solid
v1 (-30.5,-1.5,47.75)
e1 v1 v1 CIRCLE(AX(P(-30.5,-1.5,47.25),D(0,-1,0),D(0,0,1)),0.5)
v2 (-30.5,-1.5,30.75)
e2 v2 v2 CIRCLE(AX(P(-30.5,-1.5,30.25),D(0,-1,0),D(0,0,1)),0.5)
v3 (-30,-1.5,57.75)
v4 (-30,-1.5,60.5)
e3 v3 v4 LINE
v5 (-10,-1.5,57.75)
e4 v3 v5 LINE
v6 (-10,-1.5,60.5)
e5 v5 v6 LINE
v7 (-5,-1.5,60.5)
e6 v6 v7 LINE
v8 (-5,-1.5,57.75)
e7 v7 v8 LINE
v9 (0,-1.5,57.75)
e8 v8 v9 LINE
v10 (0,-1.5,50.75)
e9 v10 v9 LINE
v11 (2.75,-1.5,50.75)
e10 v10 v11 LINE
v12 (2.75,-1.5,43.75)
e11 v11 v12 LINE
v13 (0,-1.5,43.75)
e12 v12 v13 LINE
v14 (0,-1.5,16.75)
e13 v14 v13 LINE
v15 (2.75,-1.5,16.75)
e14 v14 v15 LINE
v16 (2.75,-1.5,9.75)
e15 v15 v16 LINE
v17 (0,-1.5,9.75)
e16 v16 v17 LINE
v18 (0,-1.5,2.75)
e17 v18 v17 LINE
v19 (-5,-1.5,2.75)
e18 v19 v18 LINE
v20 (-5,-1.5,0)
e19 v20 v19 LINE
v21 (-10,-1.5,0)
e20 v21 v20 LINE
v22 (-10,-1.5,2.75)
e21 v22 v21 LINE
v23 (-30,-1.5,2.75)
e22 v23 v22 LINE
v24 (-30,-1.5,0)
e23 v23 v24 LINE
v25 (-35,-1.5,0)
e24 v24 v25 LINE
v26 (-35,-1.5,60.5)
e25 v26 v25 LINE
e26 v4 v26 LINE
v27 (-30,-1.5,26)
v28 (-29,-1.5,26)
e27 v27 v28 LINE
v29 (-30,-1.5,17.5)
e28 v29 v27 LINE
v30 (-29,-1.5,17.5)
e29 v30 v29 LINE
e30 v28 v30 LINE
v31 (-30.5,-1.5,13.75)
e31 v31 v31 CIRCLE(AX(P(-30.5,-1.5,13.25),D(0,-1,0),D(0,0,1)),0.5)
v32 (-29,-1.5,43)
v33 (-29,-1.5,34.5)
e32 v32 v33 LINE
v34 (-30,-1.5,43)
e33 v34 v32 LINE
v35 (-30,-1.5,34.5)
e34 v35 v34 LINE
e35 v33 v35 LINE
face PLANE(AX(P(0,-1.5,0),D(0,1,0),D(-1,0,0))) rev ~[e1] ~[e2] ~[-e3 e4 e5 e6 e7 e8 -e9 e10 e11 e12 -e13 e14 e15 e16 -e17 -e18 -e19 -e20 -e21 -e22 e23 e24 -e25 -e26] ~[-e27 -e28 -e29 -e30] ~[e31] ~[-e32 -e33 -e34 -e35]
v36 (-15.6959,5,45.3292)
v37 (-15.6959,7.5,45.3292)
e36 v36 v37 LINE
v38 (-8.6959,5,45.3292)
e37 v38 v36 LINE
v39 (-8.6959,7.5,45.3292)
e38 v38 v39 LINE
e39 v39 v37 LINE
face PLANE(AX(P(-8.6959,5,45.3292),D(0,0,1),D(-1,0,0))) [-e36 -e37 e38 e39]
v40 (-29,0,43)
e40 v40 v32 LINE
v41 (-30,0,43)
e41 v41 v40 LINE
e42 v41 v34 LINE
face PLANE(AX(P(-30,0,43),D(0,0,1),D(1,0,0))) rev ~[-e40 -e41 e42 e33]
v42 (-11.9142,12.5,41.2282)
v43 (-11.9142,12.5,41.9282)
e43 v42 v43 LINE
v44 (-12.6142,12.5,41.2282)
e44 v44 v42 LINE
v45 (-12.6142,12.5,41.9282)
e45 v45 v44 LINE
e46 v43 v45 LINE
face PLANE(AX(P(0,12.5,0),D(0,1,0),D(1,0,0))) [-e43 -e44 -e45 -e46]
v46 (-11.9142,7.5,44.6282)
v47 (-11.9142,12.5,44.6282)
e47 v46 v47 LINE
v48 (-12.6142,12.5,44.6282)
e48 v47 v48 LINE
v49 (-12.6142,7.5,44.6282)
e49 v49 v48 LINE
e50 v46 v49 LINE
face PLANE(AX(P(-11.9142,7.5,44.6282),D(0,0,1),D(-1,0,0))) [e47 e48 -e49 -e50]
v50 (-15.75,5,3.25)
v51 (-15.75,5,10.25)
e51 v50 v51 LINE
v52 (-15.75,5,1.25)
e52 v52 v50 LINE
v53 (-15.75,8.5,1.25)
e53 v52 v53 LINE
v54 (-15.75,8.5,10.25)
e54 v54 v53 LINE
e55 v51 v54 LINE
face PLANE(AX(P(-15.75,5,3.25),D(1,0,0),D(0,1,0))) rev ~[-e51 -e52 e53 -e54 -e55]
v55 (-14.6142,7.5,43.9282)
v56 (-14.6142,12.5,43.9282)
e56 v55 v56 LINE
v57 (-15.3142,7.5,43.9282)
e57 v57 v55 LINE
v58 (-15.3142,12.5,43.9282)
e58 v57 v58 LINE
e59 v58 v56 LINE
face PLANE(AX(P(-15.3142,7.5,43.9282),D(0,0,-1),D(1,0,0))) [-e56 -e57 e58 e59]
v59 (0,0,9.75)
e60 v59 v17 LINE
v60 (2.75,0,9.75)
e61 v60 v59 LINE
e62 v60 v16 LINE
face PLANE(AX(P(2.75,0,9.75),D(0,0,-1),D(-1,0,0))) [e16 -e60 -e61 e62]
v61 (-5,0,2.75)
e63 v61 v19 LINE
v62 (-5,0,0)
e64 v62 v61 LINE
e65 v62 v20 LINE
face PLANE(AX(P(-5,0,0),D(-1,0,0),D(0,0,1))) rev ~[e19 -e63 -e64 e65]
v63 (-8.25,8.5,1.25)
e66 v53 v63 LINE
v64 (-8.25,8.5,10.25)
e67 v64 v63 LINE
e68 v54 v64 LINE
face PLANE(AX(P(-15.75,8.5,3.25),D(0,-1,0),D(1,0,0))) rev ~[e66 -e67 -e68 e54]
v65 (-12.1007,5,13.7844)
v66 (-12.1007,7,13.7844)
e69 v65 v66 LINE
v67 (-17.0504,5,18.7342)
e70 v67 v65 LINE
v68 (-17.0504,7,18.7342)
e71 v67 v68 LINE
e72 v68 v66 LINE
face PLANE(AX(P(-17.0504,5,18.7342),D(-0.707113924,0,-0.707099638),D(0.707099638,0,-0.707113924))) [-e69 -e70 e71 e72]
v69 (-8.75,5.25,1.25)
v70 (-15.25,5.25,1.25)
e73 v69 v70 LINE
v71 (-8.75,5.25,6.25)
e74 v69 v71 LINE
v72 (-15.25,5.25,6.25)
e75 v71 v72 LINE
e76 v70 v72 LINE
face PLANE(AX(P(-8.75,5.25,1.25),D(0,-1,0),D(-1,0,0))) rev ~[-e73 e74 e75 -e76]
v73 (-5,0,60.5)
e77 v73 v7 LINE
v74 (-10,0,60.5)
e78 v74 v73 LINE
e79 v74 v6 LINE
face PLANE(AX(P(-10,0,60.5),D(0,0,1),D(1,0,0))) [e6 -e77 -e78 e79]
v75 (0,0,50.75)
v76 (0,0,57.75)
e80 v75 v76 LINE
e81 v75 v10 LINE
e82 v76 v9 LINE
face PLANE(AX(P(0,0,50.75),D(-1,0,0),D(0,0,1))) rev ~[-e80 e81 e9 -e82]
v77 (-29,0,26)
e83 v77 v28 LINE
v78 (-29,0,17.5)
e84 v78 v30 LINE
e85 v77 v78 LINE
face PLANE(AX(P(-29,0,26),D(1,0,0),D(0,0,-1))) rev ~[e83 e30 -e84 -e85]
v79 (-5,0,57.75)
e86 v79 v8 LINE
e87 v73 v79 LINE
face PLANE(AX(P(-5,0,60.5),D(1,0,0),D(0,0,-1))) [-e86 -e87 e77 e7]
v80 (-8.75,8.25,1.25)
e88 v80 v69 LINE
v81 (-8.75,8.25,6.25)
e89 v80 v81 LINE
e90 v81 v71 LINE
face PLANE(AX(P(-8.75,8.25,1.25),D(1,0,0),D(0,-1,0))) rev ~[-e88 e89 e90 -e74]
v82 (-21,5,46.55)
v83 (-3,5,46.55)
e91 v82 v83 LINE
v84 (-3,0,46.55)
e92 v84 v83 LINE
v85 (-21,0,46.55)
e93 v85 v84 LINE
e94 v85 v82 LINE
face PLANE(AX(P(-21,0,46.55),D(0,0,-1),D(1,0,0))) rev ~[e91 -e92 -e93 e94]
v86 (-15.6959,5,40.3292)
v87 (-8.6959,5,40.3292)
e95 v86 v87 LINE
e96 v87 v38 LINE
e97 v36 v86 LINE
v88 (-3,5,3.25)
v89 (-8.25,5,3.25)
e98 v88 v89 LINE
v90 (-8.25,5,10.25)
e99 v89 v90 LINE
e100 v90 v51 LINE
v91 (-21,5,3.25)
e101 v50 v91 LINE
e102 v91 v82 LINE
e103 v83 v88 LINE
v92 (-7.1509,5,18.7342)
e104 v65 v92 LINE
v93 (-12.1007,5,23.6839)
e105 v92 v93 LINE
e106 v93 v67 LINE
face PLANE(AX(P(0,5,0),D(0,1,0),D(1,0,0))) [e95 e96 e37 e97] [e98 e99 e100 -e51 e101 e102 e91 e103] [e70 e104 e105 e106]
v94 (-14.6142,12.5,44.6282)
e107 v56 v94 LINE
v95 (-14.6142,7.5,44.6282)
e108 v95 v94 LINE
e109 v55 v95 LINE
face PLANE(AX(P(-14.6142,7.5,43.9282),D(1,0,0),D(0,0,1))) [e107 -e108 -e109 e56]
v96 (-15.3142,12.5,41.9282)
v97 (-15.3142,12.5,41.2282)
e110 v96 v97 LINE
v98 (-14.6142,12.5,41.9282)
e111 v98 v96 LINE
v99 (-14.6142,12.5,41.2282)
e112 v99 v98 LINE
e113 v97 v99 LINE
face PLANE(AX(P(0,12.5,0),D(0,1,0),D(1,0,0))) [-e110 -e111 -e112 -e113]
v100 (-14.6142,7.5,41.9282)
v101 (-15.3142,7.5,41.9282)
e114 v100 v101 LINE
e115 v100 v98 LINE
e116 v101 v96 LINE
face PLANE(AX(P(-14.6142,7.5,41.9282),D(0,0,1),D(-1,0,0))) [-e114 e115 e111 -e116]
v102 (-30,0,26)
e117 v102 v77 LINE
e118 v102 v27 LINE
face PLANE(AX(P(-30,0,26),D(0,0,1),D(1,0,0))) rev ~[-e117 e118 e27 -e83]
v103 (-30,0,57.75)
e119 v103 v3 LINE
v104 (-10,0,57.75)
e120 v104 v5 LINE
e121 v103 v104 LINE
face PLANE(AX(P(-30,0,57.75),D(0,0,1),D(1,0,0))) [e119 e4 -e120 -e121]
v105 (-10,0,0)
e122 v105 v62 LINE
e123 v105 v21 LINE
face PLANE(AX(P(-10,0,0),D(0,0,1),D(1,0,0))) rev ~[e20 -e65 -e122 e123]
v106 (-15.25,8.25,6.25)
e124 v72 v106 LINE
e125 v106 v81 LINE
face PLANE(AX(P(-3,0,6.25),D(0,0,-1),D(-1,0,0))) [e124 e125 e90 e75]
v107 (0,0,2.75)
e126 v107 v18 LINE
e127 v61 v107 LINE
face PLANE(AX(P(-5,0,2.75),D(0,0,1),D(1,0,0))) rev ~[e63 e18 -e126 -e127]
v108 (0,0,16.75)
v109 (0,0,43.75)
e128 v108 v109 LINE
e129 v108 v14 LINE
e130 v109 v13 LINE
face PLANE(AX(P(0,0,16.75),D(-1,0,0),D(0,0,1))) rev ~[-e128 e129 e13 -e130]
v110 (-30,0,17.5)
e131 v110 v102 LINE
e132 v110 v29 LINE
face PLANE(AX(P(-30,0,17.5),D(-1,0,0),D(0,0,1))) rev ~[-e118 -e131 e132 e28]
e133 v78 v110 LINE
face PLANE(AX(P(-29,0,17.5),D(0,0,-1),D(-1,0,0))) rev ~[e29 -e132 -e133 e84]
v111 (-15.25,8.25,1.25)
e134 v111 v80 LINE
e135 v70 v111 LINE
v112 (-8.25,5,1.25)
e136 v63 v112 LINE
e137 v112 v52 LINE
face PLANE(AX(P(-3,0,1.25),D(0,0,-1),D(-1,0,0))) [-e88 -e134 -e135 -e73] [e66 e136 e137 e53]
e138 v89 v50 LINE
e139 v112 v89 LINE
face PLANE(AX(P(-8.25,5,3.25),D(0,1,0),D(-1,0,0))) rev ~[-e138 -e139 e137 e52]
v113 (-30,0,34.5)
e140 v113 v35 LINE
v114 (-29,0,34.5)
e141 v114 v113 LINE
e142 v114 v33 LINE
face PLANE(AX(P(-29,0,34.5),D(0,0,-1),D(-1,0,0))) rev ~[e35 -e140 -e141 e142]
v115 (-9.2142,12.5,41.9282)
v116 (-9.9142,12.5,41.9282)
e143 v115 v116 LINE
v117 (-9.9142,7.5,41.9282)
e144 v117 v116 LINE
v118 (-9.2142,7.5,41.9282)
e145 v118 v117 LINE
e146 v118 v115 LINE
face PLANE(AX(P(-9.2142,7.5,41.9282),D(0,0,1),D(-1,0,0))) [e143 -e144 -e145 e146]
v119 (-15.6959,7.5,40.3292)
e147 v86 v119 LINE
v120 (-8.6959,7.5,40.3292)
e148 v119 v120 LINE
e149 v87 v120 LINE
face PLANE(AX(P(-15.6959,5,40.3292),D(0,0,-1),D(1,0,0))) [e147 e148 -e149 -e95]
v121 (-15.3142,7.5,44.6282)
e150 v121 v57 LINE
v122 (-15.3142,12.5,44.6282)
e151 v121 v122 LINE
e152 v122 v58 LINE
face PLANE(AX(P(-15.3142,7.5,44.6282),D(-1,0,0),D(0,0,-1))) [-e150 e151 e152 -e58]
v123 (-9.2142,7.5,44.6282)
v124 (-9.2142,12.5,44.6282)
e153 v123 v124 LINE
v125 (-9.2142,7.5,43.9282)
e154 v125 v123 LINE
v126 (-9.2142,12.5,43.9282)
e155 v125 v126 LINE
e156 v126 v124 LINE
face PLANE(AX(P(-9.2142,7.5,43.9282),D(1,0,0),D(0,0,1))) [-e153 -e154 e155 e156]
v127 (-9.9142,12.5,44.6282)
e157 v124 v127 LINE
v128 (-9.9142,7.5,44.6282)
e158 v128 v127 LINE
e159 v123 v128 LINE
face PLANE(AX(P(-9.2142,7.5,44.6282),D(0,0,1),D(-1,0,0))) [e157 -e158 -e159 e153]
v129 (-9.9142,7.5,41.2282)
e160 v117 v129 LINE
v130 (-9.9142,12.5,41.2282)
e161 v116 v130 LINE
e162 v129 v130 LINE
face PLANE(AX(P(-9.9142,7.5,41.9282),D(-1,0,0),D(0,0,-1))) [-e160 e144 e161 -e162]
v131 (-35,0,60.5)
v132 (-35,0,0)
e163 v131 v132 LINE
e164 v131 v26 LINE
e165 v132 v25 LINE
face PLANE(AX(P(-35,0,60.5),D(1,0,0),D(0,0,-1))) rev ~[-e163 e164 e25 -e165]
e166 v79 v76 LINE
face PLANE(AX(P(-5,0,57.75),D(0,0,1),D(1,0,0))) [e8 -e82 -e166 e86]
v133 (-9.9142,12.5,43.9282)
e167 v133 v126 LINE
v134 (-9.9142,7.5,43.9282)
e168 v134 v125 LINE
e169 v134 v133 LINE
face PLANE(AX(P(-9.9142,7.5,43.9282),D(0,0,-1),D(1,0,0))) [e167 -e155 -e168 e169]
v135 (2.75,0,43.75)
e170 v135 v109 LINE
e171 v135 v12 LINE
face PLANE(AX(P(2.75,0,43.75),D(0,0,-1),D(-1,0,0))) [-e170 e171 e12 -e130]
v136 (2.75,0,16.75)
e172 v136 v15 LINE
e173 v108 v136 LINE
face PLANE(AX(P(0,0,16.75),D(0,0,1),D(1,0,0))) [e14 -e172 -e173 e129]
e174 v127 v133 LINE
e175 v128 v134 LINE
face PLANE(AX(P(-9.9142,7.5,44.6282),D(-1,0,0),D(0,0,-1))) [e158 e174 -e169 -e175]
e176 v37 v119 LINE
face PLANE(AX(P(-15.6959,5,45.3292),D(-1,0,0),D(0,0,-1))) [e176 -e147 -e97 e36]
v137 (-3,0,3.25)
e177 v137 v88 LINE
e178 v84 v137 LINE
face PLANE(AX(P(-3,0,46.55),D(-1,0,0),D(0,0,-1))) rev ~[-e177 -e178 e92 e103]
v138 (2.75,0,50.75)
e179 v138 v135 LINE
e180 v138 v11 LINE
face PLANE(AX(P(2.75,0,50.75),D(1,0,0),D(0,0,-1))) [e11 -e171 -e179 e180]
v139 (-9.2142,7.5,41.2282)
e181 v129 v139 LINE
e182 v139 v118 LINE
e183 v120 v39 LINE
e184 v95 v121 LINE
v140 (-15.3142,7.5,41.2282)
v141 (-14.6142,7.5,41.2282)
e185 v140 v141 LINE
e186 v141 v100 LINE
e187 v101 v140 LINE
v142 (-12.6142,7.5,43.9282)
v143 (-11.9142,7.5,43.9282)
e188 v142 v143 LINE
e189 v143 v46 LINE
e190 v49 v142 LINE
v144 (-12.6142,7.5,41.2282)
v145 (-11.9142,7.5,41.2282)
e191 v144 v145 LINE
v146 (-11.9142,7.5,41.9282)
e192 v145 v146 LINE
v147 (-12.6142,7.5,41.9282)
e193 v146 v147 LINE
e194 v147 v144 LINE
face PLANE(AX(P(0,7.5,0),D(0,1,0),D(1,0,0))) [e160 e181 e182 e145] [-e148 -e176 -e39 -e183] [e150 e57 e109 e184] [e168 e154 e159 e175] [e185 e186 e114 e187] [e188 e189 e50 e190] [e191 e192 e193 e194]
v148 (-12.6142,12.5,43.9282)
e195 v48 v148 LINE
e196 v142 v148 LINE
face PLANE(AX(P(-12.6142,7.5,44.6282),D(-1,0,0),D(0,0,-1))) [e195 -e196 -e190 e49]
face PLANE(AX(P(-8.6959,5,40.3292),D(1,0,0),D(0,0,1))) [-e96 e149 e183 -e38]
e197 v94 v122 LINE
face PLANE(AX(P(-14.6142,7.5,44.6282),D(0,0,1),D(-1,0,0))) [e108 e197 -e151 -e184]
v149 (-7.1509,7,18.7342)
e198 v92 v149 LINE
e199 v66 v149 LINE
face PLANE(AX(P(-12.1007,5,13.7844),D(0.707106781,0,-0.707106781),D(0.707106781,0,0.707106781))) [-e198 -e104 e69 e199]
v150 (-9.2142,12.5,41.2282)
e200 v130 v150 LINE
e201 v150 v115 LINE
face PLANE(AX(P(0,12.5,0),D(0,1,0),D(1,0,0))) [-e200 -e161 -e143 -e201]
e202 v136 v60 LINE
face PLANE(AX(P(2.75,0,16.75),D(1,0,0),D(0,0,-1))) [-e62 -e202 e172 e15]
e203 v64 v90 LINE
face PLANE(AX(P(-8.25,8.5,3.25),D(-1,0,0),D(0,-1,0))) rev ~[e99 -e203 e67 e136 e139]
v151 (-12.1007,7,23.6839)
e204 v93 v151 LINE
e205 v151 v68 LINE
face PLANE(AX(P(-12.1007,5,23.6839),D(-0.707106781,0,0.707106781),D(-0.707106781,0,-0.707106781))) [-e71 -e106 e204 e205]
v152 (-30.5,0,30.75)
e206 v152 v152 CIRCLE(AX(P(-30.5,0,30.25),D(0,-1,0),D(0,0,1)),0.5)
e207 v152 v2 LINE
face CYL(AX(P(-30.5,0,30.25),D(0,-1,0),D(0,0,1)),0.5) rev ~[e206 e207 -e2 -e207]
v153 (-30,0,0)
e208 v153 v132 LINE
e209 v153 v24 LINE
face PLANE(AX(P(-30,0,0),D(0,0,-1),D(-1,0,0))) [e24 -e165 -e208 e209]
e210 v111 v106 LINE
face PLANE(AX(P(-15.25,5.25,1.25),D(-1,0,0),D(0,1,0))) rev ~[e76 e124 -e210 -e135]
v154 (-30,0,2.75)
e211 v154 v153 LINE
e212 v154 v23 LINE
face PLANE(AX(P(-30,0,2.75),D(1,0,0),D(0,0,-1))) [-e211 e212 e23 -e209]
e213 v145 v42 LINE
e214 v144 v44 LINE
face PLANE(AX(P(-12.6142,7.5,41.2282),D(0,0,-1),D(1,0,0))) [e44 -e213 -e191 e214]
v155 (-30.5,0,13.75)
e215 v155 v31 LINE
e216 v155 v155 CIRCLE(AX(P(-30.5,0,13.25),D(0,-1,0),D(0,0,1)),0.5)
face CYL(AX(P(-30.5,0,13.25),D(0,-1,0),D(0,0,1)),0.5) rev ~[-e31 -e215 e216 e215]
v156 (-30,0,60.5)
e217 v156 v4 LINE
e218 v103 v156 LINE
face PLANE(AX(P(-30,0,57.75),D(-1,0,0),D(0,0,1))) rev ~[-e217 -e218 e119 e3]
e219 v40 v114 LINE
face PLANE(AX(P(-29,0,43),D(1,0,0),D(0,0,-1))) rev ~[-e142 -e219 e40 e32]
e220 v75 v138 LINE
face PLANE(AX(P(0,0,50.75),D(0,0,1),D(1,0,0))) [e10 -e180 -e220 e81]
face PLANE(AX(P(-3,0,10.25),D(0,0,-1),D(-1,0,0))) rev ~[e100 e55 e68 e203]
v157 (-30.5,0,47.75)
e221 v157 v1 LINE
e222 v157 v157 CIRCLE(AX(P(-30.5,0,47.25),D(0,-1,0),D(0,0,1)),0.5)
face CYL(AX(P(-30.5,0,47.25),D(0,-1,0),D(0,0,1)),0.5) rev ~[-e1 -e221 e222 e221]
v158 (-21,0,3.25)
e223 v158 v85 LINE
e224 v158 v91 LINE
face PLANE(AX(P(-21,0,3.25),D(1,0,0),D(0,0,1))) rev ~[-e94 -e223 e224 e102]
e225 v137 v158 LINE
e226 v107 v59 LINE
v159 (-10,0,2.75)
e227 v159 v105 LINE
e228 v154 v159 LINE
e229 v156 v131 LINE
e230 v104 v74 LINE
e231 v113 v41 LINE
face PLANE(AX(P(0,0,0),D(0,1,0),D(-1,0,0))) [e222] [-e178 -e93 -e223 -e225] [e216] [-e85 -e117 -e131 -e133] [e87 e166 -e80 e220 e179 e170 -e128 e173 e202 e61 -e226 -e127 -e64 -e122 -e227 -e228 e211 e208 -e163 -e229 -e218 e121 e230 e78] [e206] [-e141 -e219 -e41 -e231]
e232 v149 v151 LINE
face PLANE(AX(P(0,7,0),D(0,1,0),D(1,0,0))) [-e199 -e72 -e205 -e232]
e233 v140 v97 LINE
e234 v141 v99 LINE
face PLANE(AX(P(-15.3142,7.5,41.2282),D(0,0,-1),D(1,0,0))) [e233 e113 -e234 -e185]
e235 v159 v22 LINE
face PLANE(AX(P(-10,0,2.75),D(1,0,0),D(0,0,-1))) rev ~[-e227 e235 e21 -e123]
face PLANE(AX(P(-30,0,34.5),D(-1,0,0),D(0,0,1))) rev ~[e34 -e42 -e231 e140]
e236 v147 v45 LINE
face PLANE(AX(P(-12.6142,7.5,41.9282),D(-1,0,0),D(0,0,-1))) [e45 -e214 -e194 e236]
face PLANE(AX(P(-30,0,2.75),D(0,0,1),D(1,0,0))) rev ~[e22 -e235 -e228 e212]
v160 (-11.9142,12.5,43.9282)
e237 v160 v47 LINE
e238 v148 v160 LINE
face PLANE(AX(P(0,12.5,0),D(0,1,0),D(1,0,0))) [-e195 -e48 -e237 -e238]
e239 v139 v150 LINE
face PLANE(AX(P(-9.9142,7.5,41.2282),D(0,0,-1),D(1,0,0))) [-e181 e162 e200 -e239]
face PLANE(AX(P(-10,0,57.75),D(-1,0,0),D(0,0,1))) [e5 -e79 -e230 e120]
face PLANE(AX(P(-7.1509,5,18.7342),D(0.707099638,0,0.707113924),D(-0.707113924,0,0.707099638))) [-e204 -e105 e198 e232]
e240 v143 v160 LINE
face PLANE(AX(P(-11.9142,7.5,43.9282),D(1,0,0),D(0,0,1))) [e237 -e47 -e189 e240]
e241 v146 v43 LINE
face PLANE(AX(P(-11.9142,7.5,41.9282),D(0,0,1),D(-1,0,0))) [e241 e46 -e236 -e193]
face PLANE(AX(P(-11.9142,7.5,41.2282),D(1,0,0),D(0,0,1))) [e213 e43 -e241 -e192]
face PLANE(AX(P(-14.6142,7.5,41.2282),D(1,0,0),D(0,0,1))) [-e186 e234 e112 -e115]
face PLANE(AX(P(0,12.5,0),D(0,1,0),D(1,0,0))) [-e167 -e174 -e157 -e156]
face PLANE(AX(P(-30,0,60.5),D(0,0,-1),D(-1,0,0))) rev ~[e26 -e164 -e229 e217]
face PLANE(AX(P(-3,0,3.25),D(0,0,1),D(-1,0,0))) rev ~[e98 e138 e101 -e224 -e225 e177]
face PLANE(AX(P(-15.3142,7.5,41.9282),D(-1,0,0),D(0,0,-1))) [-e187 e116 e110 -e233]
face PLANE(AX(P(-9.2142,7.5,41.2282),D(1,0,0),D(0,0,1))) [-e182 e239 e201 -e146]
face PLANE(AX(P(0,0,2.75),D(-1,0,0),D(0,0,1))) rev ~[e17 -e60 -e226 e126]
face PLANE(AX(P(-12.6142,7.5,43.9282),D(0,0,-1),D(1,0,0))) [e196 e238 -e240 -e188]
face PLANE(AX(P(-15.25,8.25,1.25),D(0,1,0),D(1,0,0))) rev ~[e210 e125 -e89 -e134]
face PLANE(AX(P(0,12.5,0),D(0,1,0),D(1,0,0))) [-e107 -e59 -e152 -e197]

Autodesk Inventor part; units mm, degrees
ref_plane "YZ Plane" through (0, 0, 0) normal (1, 0, 0) x (0, 1, 0)
ref_plane "XZ Plane" through (0, 0, 0) normal (0, 1, 0) x (-1, 0, 0)
ref_plane "XY Plane" through (0, 0, 0) normal (0, 0, 1) x (1, 0, 0)
sketch "Sketch1" plane through (0, 0, 0) normal (0, 1, 0) x (-1, 0, 0)
  line L0 (17.5, 17.8107) -> (17.5, 41.4147) construction
  line L1 (35, 60.5) -> (35, 0)
  line L2 (30, 17.5) -> (30, 26)
  line L3 (30, 26) -> (29, 26)
  line L4 (29, 26) -> (29, 17.5)
  line L5 (29, 17.5) -> (30, 17.5)
  line L6 (29, 34.5) -> (30, 34.5)
  line L7 (30, 34.5) -> (30, 43)
  line L8 (30, 43) -> (29, 43)
  line L9 (29, 43) -> (29, 34.5)
  line L10 (30, 57.75) -> (30, 60.5)
  line L11 (30, 60.5) -> (35, 60.5)
  line L12 (10, 57.75) -> (10, 60.5)
  line L13 (30, 57.75) -> (10, 57.75)
  line L14 (30, 2.75) -> (30, 0)
  line L15 (30, 0) -> (35, 0)
  line L16 (10, 2.75) -> (10, 0)
  line L17 (30, 2.75) -> (10, 2.75)
  line L18 (0, 50.75) -> (-2.75, 50.75)
  line L19 (-2.75, 50.75) -> (-2.75, 43.75)
  line L20 (-2.75, 43.75) -> (0, 43.75)
  line L21 (0, 16.75) -> (-2.75, 16.75)
  line L22 (-2.75, 16.75) -> (-2.75, 9.75)
  line L23 (-2.75, 9.75) -> (0, 9.75)
  line L24 (17.3275, 30.25) -> (11.5049, 30.25) construction
  line L25 (0, 50.75) -> (0, 57.75)
  line L26 (0, 2.75) -> (0, 9.75)
  line L27 (0, 16.75) -> (0, 43.75)
  line L28 (10, 0) -> (5, 0)
  line L29 (5, 0) -> (5, 2.75)
  line L30 (5, 2.75) -> (0, 2.75)
  line L31 (10, 60.5) -> (5, 60.5)
  line L32 (5, 60.5) -> (5, 57.75)
  line L33 (5, 57.75) -> (0, 57.75)
  point P0 (0, 0)
  point P1 (0, 0)
  point P2 (0, 0)
  point P3 (0, 0)
  point P4 (0, 0)
  point P5 (30.5, 47.25)
  point P6 (30.5, 30.25)
  point P7 (30.5, 13.25)
  dimension "d151" = 8.5
  dimension "d153" = 1
  dimension "d155" = 5
  dimension "d159" = 17
  dimension "d160" = 17
  dimension "d161" = 4.25
  dimension "d162" = 4.25
  dimension "d176" = 4.5
  dimension "d177" = 5
  dimension "d179" = 55
  dimension "d180" = 2.75
  dimension "d182" = 7
  dimension "d183" = 7
  dimension "d184" = 35
extrude "Extrusion1" add sketch "Sketch1" against normal blind 1.5
hole "Hole1" at (-30.5, 0, 47.25) at (-30.5, 0, 30.25) at (-30.5, 0, 13.25) direction (0, -1, 0) diameter 1 end through all
sketch "Sketch4" plane through (0, 0, 0) normal (0, 1, 0) x (1, 0, 0)
  line L0 (-3, -46.55) -> (-3, -3.25)
  line L1 (-3, -3.25) -> (-21, -3.25)
  line L2 (-21, -3.25) -> (-21, -46.55)
  line L3 (-21, -46.55) -> (-3, -46.55)
  line L4 (-30, -2.75) -> (-10, -2.75) projected
  line L5 (-10, -2.75) -> (-30, -2.75) projected
  line L6 (0, -43.75) -> (0, -16.75) projected
  point P0 (0, 0)
  dimension "d188" = 43.3
  dimension "d189" = 18
  dimension "d190" = 3
  dimension "d212" = 0.5
extrude "Extrusion11" add sketch "Sketch4" along normal blind 5
sketch "Sketch6" plane through (0, 5, 0) normal (0, 1, 0) x (1, 0, 0)
  line L0 (-17.0504, -18.7342) -> (-12.1007, -13.7844)
  line L1 (-12.1007, -13.7844) -> (-7.1509, -18.7342)
  line L2 (-7.1509, -18.7342) -> (-12.1007, -23.6839)
  line L3 (-12.1007, -23.6839) -> (-17.0504, -18.7342)
  point P0 (0, 0)
  dimension "d198" = 7
  dimension "d199" = 7
extrude "Extrusion13" add sketch "Sketch6" along normal blind 2
sketch "Sketch7" plane through (0, 5, 0) normal (0, 1, 0) x (1, 0, 0)
  line L0 (-15.6959, -40.3292) -> (-8.6959, -40.3292)
  line L1 (-8.6959, -40.3292) -> (-8.6959, -45.3292)
  line L2 (-8.6959, -45.3292) -> (-15.6959, -45.3292)
  line L3 (-15.6959, -45.3292) -> (-15.6959, -40.3292)
  point P0 (0, 0)
  dimension "d202" = 7
  dimension "d203" = 5
extrude "Extrusion14" add sketch "Sketch7" along normal blind 2.5
sketch "Sketch8" plane through (0, 7.5, 0) normal (0, 1, 0) x (1, 0, 0)
  line L0 (-15.3142, -41.2282) -> (-14.6142, -41.2282)
  line L1 (-14.6142, -41.2282) -> (-14.6142, -41.9282)
  line L2 (-14.6142, -41.9282) -> (-15.3142, -41.9282)
  line L3 (-15.3142, -41.9282) -> (-15.3142, -41.2282)
  line L4 (-15.3142, -43.9282) -> (-14.6142, -43.9282)
  line L5 (-14.6142, -43.9282) -> (-14.6142, -44.6282)
  line L6 (-14.6142, -44.6282) -> (-15.3142, -44.6282)
  line L7 (-15.3142, -44.6282) -> (-15.3142, -43.9282)
  line L8 (-12.6142, -41.2282) -> (-11.9142, -41.2282)
  line L9 (-11.9142, -41.2282) -> (-11.9142, -41.9282)
  line L10 (-11.9142, -41.9282) -> (-12.6142, -41.9282)
  line L11 (-12.6142, -41.9282) -> (-12.6142, -41.2282)
  line L12 (-12.6142, -43.9282) -> (-11.9142, -43.9282)
  line L13 (-11.9142, -43.9282) -> (-11.9142, -44.6282)
  line L14 (-11.9142, -44.6282) -> (-12.6142, -44.6282)
  line L15 (-12.6142, -44.6282) -> (-12.6142, -43.9282)
  line L16 (-9.9142, -41.2282) -> (-9.2142, -41.2282)
  line L17 (-9.2142, -41.2282) -> (-9.2142, -41.9282)
  line L18 (-9.2142, -41.9282) -> (-9.9142, -41.9282)
  line L19 (-9.9142, -41.9282) -> (-9.9142, -41.2282)
  line L20 (-9.9142, -43.9282) -> (-9.2142, -43.9282)
  line L21 (-9.2142, -43.9282) -> (-9.2142, -44.6282)
  line L22 (-9.2142, -44.6282) -> (-9.9142, -44.6282)
  line L23 (-9.9142, -44.6282) -> (-9.9142, -43.9282)
  point P0 (0, 0)
  dimension "d206" = 0.7
  dimension "d207" = 2
  dimension "d208" = 2
  dimension "d209" = 2
extrude "Extrusion15" add sketch "Sketch8" along normal blind 5
sketch "Sketch9" plane through (-3, 0, 3.25) normal (0, 0, -1) x (-1, 0, 0)
  line L0 (12.75, 8.5) -> (5.25, 8.5)
  line L1 (5.25, 8.5) -> (5.25, 5)
  line L2 (5.25, 5) -> (12.75, 5)
  line L3 (12.75, 5) -> (12.75, 8.5)
  line L4 (9, 5.7242) -> (9, 7.4058) construction
  line L5 (18, 0) -> (18, 5) projected
  line L6 (0, 5) -> (18, 5) projected
  point P0 (-3, 0)
  dimension "d213" = 7.5
  dimension "d214" = 3.5
  dimension "d215" = 9
extrude "Extrusion16" add sketch "Sketch9" along normal blind 2 and the other way blind 7
sketch "Sketch15" plane through (-3, 0, 1.25) normal (0, 0, -1) x (-1, 0, 0)
  line L0 (12.25, 8.25) -> (5.75, 8.25)
  line L1 (5.75, 8.25) -> (5.75, 5.25)
  line L2 (5.75, 5.25) -> (12.25, 5.25)
  line L3 (12.25, 5.25) -> (12.25, 8.25)
  line L4 (5.25, 8.5) -> (5.25, 5) projected
  line L5 (12.75, 8.5) -> (5.25, 8.5) projected
  point P0 (-3, 0)
  dimension "d242" = 6.5
  dimension "d243" = 3
  dimension "d244" = 0.5
  dimension "d245" = 0.25
extrude "Extrusion20" cut sketch "Sketch15" against normal blind 5
properties part number "Microcontroller_board_Nano_square" material "ABS Plastic"
